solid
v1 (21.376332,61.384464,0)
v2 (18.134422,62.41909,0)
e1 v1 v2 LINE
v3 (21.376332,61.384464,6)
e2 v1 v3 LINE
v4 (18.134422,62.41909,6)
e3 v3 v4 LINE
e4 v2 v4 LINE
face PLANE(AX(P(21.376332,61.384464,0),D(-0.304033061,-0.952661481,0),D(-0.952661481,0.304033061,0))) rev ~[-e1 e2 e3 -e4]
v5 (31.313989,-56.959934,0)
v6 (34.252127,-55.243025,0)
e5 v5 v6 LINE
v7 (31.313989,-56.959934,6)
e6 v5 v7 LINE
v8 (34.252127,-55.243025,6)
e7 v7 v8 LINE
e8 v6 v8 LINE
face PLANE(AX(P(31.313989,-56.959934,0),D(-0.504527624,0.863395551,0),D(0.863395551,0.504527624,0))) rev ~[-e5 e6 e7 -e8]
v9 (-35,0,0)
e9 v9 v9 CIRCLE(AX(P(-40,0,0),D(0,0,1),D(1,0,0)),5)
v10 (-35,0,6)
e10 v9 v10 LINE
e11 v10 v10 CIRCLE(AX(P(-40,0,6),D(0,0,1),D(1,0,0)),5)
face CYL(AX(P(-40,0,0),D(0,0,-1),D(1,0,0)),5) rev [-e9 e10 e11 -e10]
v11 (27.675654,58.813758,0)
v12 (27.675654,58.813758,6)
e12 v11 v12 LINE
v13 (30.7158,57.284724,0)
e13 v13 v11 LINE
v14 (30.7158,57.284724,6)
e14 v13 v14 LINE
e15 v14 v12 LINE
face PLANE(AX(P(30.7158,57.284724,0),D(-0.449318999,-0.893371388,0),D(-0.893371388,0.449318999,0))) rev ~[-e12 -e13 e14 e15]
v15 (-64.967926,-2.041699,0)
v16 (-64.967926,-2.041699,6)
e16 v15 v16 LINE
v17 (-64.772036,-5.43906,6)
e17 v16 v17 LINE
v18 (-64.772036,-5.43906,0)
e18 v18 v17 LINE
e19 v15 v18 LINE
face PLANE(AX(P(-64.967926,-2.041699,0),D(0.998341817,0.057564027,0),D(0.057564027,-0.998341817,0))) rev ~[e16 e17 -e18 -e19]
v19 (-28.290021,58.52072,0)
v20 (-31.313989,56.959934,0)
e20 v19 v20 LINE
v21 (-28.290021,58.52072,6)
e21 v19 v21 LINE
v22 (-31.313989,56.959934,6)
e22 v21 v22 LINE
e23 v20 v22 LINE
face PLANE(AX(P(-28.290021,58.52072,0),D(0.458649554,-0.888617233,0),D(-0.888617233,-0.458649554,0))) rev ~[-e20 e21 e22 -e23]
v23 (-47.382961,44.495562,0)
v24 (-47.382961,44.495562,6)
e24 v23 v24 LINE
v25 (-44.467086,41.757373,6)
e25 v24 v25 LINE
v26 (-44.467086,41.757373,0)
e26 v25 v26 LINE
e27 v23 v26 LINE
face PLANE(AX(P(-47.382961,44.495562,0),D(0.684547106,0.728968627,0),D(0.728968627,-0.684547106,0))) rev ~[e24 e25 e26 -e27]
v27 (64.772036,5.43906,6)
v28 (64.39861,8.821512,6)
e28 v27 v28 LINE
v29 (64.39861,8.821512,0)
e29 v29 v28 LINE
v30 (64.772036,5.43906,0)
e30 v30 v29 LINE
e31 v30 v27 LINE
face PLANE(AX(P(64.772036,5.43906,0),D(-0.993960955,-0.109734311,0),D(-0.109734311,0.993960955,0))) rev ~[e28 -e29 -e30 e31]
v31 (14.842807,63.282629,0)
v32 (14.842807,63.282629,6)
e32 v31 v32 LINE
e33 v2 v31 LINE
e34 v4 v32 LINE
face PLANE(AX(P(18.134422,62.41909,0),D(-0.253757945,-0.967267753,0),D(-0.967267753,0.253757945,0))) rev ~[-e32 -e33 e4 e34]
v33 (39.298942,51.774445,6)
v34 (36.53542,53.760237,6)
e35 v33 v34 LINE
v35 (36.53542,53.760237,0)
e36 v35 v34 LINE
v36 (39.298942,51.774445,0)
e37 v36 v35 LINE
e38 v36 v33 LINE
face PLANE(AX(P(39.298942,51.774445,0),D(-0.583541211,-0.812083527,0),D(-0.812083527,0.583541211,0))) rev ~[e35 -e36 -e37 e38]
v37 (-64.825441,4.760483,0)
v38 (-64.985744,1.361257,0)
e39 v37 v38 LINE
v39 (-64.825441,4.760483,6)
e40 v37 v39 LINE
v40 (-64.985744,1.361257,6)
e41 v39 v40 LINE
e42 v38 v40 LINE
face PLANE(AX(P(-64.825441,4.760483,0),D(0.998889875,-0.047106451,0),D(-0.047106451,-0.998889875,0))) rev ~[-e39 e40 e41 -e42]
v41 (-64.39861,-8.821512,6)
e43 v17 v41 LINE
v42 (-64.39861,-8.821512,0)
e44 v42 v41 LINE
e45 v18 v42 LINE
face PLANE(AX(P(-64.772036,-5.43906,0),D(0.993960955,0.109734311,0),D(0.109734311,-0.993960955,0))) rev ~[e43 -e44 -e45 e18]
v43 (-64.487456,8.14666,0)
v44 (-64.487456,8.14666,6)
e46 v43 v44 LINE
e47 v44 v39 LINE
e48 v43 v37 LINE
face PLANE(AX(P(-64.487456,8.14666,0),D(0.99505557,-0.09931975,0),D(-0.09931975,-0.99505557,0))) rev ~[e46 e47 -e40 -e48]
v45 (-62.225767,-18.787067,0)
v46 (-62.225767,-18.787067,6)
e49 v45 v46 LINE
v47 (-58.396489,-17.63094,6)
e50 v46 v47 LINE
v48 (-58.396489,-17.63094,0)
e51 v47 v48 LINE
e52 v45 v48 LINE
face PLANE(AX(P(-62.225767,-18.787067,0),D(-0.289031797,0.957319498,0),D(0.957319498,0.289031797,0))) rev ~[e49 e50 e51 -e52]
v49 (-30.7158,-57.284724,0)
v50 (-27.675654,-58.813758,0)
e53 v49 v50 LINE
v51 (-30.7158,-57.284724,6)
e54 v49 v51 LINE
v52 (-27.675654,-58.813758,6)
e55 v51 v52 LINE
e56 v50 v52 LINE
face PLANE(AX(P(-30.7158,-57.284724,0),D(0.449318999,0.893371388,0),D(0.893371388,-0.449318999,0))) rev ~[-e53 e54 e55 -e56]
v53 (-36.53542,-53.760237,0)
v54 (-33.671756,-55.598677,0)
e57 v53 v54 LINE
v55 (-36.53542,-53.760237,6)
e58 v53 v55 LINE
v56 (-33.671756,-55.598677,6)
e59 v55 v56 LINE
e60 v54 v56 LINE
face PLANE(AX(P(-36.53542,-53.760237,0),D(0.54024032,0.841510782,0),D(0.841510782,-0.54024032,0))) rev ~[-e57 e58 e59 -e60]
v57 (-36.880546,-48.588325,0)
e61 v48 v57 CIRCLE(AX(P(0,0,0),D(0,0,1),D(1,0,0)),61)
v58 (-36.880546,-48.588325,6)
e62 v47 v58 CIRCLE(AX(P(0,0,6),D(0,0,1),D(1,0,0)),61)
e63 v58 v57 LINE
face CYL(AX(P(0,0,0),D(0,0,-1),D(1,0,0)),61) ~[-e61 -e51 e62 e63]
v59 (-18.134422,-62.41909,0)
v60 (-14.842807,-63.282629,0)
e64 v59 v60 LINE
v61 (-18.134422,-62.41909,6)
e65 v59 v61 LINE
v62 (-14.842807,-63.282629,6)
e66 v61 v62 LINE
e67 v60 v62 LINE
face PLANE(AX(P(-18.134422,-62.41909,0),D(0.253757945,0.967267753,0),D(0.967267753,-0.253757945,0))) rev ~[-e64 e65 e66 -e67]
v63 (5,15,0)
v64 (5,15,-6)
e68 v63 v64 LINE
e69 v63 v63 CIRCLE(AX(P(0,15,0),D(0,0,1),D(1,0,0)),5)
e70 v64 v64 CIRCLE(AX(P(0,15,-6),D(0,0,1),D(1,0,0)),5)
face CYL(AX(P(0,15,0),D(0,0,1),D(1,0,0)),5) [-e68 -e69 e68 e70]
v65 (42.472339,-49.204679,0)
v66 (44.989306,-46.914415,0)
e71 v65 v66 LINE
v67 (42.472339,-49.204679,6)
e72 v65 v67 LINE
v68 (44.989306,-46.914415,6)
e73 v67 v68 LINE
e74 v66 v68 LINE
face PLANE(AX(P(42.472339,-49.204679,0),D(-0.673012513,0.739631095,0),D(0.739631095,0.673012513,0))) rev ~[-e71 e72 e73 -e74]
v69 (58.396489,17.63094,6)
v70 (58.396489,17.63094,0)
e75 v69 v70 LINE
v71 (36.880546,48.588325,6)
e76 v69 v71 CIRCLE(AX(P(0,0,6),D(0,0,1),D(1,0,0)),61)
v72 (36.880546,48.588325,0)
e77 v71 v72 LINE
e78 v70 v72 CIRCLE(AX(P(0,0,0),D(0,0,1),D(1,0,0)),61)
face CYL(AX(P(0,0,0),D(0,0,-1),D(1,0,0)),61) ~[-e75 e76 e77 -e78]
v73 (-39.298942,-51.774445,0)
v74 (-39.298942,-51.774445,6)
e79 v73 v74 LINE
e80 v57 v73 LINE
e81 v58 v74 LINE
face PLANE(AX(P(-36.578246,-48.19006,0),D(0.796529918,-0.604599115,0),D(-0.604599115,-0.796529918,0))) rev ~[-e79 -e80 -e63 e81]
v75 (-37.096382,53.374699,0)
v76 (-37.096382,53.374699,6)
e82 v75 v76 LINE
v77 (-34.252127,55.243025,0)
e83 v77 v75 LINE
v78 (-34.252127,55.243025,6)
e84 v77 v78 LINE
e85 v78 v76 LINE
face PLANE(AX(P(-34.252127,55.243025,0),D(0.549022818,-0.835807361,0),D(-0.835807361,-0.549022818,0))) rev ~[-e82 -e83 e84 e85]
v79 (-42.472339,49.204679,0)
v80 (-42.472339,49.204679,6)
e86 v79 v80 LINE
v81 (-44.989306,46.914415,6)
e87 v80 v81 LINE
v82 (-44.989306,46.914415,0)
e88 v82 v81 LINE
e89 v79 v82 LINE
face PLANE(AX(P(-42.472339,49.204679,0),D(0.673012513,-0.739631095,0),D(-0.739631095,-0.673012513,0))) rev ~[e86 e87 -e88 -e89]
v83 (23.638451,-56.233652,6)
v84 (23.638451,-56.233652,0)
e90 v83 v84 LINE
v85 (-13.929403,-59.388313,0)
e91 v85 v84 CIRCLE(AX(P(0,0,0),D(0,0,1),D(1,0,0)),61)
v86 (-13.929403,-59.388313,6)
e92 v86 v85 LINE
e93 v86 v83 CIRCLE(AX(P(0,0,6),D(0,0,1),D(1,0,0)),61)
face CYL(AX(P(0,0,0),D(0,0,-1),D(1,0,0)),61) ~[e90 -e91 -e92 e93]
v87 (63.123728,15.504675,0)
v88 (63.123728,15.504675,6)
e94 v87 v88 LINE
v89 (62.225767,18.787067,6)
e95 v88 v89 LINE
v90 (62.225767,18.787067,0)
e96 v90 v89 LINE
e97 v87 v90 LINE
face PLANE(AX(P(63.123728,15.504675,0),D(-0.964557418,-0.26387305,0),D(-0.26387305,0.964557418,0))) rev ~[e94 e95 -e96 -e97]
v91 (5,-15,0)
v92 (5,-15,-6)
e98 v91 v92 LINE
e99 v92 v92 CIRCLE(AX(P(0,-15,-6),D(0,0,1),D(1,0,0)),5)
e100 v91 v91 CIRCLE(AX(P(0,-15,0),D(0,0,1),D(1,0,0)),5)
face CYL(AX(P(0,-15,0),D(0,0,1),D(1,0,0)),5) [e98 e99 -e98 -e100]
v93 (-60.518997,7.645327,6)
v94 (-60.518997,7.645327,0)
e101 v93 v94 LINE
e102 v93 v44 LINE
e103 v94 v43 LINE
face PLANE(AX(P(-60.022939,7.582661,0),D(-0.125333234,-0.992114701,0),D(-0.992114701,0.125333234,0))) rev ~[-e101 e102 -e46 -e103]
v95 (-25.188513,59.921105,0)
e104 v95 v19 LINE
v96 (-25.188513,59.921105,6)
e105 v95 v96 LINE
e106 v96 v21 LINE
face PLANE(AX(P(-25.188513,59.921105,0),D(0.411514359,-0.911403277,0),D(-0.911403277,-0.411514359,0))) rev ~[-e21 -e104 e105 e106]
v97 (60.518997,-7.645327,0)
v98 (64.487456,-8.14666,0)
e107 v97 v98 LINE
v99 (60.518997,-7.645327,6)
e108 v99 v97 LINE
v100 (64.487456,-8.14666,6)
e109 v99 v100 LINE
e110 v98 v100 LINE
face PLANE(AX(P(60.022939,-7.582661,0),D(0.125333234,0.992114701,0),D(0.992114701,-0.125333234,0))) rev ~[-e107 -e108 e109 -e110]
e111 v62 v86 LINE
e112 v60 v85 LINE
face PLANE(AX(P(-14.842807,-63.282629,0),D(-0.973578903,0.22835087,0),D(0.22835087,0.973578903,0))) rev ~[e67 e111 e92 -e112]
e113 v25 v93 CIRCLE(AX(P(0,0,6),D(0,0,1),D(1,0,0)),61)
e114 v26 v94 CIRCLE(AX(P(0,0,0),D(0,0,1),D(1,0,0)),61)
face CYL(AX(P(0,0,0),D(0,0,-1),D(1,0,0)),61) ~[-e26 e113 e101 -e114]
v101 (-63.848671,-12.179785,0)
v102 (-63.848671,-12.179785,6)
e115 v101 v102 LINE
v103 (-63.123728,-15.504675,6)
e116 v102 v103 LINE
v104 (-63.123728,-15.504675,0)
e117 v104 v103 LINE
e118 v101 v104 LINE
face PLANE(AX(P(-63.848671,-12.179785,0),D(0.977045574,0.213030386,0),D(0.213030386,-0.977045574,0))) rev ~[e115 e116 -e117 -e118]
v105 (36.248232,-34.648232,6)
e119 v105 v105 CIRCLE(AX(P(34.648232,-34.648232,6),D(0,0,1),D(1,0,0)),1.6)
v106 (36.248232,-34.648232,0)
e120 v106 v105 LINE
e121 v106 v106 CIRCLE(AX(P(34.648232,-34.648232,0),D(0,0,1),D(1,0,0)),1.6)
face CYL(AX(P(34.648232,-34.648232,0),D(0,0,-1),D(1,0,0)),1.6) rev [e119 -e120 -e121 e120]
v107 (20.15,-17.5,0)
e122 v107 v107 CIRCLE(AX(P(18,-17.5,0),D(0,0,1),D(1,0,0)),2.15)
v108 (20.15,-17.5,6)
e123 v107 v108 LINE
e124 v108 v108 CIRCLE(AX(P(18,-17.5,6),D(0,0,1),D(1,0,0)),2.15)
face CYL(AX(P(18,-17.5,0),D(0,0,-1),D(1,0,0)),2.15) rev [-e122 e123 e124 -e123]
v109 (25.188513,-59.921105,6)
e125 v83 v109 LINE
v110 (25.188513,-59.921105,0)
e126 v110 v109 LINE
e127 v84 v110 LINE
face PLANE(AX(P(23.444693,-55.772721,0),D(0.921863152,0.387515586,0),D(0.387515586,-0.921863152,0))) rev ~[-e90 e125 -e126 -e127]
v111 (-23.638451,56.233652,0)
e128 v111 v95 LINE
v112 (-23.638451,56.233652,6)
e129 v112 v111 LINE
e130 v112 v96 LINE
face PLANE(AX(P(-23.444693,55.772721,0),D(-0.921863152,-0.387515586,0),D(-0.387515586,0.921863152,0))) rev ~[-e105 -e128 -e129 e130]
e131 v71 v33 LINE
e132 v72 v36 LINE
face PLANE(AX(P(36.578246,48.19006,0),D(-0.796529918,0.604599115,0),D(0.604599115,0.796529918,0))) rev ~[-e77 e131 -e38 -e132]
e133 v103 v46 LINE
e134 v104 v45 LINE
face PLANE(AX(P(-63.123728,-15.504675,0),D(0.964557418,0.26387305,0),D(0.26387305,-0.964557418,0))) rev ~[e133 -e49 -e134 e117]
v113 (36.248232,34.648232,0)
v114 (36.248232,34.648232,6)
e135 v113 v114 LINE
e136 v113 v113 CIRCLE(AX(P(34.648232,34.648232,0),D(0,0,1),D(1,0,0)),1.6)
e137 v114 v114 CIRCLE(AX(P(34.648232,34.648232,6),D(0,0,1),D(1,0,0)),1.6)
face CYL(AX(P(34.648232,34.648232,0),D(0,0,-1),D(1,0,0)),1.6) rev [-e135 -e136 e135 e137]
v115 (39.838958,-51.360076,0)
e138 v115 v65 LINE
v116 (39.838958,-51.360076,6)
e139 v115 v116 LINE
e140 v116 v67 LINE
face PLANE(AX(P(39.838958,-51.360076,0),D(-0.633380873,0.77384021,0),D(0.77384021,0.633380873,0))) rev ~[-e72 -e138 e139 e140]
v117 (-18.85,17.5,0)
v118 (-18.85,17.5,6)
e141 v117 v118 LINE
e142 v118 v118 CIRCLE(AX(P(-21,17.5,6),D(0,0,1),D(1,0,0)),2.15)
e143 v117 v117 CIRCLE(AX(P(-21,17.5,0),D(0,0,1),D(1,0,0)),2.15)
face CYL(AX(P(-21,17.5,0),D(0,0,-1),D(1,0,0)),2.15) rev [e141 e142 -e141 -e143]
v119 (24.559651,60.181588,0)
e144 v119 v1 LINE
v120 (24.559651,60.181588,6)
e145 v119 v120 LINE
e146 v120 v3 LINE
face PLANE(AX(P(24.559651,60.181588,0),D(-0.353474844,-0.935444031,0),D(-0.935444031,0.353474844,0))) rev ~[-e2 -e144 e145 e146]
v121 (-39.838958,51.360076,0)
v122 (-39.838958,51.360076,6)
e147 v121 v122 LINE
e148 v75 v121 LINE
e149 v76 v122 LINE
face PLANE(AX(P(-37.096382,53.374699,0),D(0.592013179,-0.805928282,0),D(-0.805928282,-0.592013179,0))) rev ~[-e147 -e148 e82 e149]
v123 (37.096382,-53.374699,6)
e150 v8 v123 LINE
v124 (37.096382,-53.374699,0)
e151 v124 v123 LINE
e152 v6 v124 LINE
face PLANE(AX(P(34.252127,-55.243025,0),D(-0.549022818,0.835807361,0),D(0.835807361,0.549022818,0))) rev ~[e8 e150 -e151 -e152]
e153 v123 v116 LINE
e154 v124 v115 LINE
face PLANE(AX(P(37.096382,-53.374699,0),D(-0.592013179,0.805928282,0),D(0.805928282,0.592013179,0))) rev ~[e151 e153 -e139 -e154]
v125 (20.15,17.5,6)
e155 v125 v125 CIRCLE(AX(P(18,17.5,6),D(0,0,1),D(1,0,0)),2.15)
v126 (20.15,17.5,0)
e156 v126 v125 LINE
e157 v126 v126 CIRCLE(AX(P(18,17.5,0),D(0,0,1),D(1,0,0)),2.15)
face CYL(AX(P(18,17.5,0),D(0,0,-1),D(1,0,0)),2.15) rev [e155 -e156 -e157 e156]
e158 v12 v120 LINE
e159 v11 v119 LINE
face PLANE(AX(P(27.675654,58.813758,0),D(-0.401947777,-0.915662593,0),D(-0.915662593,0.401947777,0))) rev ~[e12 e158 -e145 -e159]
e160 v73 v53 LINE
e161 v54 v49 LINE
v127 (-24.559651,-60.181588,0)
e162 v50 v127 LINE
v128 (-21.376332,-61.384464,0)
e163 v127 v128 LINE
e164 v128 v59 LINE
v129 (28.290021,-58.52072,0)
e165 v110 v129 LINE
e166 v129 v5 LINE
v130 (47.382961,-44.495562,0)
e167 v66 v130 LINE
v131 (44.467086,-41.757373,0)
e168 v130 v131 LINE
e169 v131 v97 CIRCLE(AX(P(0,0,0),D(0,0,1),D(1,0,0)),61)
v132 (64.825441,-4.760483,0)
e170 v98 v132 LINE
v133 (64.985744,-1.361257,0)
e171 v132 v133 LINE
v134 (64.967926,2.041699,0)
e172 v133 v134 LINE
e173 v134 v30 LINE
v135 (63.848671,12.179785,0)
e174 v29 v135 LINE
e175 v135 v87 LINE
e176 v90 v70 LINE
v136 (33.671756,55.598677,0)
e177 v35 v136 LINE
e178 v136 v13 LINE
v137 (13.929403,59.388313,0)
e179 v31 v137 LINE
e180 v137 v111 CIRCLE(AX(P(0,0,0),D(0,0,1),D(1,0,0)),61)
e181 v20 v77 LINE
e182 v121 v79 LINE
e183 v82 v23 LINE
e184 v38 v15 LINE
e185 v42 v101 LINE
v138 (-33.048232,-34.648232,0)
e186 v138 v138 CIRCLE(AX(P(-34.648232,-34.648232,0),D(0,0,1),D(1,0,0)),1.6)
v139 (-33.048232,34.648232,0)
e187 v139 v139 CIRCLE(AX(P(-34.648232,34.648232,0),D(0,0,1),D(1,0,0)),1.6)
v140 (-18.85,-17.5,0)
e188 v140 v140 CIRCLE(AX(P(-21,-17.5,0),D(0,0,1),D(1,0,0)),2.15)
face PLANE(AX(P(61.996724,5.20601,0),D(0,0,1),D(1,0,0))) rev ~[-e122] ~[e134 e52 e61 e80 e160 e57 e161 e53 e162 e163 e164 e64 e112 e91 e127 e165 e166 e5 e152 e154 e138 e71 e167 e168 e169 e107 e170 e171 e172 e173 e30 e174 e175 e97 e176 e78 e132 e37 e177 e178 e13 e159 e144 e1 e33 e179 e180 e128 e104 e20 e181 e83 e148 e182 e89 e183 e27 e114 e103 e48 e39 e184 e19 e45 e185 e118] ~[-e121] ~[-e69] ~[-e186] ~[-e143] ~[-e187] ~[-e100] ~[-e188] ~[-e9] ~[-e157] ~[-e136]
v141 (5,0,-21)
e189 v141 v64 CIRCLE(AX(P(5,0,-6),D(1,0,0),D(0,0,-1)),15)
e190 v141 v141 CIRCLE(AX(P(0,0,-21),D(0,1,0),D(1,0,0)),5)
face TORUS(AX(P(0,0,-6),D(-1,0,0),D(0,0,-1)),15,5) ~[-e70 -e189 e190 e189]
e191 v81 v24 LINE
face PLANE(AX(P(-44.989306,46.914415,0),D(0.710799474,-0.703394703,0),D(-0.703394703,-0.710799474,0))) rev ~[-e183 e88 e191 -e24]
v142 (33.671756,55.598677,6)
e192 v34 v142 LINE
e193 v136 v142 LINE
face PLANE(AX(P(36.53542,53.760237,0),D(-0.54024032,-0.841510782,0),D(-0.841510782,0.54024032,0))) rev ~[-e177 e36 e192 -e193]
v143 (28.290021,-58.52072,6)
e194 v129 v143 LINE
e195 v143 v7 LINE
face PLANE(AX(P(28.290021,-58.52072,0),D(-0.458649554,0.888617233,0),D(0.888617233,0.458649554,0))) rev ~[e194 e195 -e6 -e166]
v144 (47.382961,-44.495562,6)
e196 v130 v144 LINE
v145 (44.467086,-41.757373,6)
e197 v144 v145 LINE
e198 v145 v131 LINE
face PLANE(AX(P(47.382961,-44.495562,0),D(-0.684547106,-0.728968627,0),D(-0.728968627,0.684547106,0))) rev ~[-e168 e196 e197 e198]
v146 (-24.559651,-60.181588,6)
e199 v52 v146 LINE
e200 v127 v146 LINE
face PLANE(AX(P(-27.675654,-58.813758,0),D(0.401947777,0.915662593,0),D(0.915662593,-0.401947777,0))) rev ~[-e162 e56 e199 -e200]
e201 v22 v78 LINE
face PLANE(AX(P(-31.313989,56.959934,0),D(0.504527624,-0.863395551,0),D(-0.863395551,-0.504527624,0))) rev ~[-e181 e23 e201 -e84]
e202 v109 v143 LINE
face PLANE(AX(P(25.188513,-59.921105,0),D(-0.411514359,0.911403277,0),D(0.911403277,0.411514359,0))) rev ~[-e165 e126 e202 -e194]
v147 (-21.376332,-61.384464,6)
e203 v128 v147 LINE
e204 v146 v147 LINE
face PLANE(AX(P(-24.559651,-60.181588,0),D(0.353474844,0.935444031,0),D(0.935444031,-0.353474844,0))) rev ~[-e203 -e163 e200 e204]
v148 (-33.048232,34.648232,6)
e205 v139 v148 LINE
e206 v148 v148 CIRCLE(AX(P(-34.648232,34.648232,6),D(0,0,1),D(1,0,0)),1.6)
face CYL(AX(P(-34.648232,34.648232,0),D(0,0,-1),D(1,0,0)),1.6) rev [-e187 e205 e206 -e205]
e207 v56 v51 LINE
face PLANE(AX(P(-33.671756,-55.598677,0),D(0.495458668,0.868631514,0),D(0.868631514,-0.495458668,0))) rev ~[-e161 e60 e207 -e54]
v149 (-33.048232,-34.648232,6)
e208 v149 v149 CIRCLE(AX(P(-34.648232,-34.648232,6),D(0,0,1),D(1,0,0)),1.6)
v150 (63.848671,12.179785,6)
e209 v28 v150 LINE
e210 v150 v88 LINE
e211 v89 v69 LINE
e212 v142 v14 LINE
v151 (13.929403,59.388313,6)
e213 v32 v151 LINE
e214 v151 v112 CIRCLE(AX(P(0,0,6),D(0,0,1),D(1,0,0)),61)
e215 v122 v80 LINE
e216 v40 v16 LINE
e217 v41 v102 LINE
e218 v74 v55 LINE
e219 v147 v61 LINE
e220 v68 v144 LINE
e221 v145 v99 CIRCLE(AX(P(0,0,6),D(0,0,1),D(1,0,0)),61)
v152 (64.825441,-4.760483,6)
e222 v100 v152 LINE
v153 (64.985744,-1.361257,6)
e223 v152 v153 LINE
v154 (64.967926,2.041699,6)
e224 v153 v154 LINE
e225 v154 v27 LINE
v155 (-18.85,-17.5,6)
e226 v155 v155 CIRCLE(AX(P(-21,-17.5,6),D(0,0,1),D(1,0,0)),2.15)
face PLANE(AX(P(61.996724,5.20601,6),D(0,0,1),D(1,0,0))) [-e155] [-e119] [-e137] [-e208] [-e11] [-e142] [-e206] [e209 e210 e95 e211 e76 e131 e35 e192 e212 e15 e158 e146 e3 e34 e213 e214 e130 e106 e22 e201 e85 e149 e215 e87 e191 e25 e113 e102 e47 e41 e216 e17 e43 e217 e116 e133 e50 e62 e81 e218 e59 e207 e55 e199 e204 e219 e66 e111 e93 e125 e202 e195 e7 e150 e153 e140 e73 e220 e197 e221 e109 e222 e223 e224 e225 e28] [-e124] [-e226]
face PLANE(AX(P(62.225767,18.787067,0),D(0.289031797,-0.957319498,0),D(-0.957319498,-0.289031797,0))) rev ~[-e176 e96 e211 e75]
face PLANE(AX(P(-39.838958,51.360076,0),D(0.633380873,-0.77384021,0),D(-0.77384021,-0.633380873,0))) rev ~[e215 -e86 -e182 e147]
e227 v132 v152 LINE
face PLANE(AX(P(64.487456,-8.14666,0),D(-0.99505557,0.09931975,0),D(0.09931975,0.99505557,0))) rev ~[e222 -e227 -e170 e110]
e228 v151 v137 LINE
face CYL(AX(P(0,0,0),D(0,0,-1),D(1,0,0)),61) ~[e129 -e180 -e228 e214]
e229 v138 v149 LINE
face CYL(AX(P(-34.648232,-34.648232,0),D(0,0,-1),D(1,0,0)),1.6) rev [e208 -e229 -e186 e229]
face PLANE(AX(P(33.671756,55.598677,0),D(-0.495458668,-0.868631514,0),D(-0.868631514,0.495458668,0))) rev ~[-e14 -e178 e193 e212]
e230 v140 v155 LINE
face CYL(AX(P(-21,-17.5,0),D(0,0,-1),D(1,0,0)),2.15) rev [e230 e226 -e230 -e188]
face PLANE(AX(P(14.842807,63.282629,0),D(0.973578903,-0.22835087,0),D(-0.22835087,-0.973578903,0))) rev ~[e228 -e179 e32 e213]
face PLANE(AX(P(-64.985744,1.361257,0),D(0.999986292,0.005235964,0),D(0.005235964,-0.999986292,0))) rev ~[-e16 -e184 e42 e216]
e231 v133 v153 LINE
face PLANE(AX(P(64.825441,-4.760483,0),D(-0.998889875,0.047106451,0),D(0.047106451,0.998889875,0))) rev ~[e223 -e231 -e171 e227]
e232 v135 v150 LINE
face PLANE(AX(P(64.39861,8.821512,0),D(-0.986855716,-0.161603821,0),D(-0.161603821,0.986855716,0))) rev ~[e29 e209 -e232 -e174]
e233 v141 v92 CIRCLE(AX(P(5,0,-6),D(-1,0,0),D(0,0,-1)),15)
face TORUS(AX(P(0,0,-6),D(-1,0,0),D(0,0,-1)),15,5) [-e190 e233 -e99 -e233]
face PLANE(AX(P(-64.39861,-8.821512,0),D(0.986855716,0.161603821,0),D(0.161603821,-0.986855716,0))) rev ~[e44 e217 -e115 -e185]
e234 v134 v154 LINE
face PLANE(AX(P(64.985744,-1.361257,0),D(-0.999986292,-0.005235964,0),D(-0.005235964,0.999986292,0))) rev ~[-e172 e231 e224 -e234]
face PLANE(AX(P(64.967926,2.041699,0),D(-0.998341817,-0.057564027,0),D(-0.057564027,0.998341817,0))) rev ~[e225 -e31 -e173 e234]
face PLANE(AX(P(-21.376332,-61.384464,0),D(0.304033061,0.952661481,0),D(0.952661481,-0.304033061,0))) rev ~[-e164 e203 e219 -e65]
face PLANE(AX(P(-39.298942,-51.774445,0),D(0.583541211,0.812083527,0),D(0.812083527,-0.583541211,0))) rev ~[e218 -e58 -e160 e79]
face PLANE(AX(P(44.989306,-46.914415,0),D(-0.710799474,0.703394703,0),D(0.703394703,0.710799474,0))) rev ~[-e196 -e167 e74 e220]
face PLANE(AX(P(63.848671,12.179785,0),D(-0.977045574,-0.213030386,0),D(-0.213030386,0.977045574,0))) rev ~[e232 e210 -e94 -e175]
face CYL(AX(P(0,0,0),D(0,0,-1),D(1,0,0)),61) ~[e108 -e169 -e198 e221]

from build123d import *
from build123d.topology import SkipClean

# Parameters (mm, degrees)
SKETCH_1_R                = 61
SKETCH_1_R_2              = 1.6
SKETCH_1_R_3              = 2.15
SKETCH_1_R_4              = 5
EXTRUDE_1_DEPTH           = 6
EXTRUDE_2_DEPTH           = 6
SKETCH_3_R                = 5
EXTRUDE_3_DEPTH           = 6
SKETCH_4_R                = 5
REVOLVE_1_ANGLE           = 90
REVOLVE_1_OTHER_WAY_ANGLE = 90


with BuildPart() as part:
    # 草圖1 → 填料-伸長1 (new body)
    with BuildSketch(Plane.XY):
        Circle(SKETCH_1_R)
        with Locations((34.648232278, 34.648232278)):
            Circle(SKETCH_1_R_2, mode=Mode.SUBTRACT)
        with Locations((-34.648232278, 34.648232278)):
            Circle(SKETCH_1_R_2, mode=Mode.SUBTRACT)
        with Locations((-34.648232278, -34.648232278)):
            Circle(SKETCH_1_R_2, mode=Mode.SUBTRACT)
        with Locations((34.648232278, -34.648232278)):
            Circle(SKETCH_1_R_2, mode=Mode.SUBTRACT)
        with Locations((-21, 17.5)):
            Circle(SKETCH_1_R_3, mode=Mode.SUBTRACT)
        with Locations((-21, -17.5)):
            Circle(SKETCH_1_R_3, mode=Mode.SUBTRACT)
        with Locations((18, 17.5)):
            Circle(SKETCH_1_R_3, mode=Mode.SUBTRACT)
        with Locations((18, -17.5)):
            Circle(SKETCH_1_R_3, mode=Mode.SUBTRACT)
        with Locations((-40, 0)):
            Circle(SKETCH_1_R_4, mode=Mode.SUBTRACT)
    extrude(amount=EXTRUDE_1_DEPTH)

    # 草圖2 → 填料-伸長2 (add)
    with BuildSketch(Plane.XY):
        Polygon((64.487455585, -8.146660182), (64.82544102, -4.760482813), (64.985744426, -1.361257292), (64.967926424, 2.04169934), (64.772035851, 5.439059817), (64.398609631, 8.821512208), (63.848671297, 12.179785448), (63.123728194, 15.504674743), (62.22576734, 18.787066801), (57.917829601, 17.486423715), (58.753623935, 14.431274184), (59.428378669, 11.336569532), (59.940244349, 8.210792132), (60.287817985, 5.062509522), (60.470146902, 1.900350924), (60.48673135, -1.267016403), (60.337525872, -4.430910926), (60.02293943, -7.582660631), align=None)
        Polygon((39.298942466, 51.774444672), (36.53541956, 53.760237328), (33.671755609, 55.59867691), (30.715799716, 57.284724384), (27.675653952, 58.81375841), (24.559651143, 60.181588013), (21.376332038, 61.384464065), (18.134421893, 62.419089569), (14.842806557, 63.282628687), (13.815227642, 58.901523624), (16.878961915, 58.097767983), (19.896432128, 57.134770399), (22.859367603, 56.015170381), (25.75964714, 54.742036674), (28.589321275, 53.31885885), (31.340634067, 51.74953774), (34.00604436, 50.038374744), (36.578246449, 48.19006004), align=None)
        Polygon((-25.188513119, 59.921104853), (-28.290021459, 58.520720141), (-31.313988817, 56.959934203), (-34.252126707, 55.243025044), (-37.096381899, 53.374698594), (-39.838958487, 51.360075804), (-42.472339259, 49.204678617), (-44.989306302, 46.914414826), (-47.382960782, 44.495561885), (-44.102601959, 41.415099909), (-41.874662019, 43.6664938), (-39.531946541, 45.798200867), (-37.080876746, 47.804378249), (-34.528170845, 49.679527153), (-31.880825628, 51.418507926), (-29.146097283, 53.016554143), (-26.331481512, 54.46928567), (-23.44469298, 55.772720671), align=None)
        Polygon((-64.487455585, 8.146660182), (-64.82544102, 4.760482813), (-64.985744426, 1.361257292), (-64.967926424, -2.04169934), (-64.772035851, -5.439059817), (-64.398609631, -8.821512208), (-63.848671297, -12.179785448), (-63.123728194, -15.504674743), (-62.22576734, -18.787066801), (-57.917829601, -17.486423715), (-58.753623935, -14.431274184), (-59.428378669, -11.336569532), (-59.940244349, -8.210792132), (-60.287817985, -5.062509522), (-60.470146902, -1.900350924), (-60.48673135, 1.267016403), (-60.337525872, 4.430910926), (-60.02293943, 7.582660631), align=None)
        Polygon((-39.298942466, -51.774444672), (-36.53541956, -53.760237328), (-33.671755609, -55.59867691), (-30.715799716, -57.284724384), (-27.675653952, -58.81375841), (-24.559651143, -60.181588013), (-21.376332038, -61.384464065), (-18.134421893, -62.419089569), (-14.842806557, -63.282628687), (-13.815227642, -58.901523624), (-16.878961915, -58.097767983), (-19.896432128, -57.134770399), (-22.859367603, -56.015170381), (-25.75964714, -54.742036674), (-28.589321275, -53.31885885), (-31.340634067, -51.74953774), (-34.00604436, -50.038374744), (-36.578246449, -48.19006004), align=None)
        Polygon((25.188513119, -59.921104853), (28.290021459, -58.520720141), (31.313988817, -56.959934203), (34.252126707, -55.243025044), (37.096381899, -53.374698594), (39.838958487, -51.360075804), (42.472339259, -49.204678617), (44.989306302, -46.914414826), (47.382960782, -44.495561885), (44.102601959, -41.415099909), (41.874662019, -43.6664938), (39.531946541, -45.798200867), (37.080876746, -47.804378249), (34.528170845, -49.679527153), (31.880825628, -51.418507926), (29.146097283, -53.016554143), (26.331481512, -54.46928567), (23.44469298, -55.772720671), align=None)
    extrude(amount=EXTRUDE_2_DEPTH)

    # 草圖3 → 填料-伸長3 (add)
    with BuildSketch(Plane.XY):
        with Locations((0, 15)):
            Circle(SKETCH_3_R)
        with Locations((0, -15)):
            Circle(SKETCH_3_R)
    extrude(amount=-EXTRUDE_3_DEPTH)

    # 草圖4 → 旋轉1 (revolve)
    with BuildSketch(Plane(origin=(0, 0, 0), x_dir=(1, 0, 0), z_dir=(0, 1, 0))):
        with Locations((0, 21)):
            Circle(SKETCH_4_R)
    revolve(axis=Axis((-20, 0, -6), (1, 0, 0)), revolution_arc=REVOLVE_1_ANGLE)

    # 草圖4 → 旋轉1 other way (revolve)
    with SkipClean():  # the faces are left unmerged after this step: merging them gives an invalid solid
        with BuildSketch(Plane(origin=(0, 0, 0), x_dir=(1, 0, 0), z_dir=(0, 1, 0))):
            with Locations((0, 21)):
                Circle(SKETCH_4_R)
        revolve(axis=Axis((-20, 0, -6), (-1, 0, 0)), revolution_arc=REVOLVE_1_OTHER_WAY_ANGLE)


solid = part.part
